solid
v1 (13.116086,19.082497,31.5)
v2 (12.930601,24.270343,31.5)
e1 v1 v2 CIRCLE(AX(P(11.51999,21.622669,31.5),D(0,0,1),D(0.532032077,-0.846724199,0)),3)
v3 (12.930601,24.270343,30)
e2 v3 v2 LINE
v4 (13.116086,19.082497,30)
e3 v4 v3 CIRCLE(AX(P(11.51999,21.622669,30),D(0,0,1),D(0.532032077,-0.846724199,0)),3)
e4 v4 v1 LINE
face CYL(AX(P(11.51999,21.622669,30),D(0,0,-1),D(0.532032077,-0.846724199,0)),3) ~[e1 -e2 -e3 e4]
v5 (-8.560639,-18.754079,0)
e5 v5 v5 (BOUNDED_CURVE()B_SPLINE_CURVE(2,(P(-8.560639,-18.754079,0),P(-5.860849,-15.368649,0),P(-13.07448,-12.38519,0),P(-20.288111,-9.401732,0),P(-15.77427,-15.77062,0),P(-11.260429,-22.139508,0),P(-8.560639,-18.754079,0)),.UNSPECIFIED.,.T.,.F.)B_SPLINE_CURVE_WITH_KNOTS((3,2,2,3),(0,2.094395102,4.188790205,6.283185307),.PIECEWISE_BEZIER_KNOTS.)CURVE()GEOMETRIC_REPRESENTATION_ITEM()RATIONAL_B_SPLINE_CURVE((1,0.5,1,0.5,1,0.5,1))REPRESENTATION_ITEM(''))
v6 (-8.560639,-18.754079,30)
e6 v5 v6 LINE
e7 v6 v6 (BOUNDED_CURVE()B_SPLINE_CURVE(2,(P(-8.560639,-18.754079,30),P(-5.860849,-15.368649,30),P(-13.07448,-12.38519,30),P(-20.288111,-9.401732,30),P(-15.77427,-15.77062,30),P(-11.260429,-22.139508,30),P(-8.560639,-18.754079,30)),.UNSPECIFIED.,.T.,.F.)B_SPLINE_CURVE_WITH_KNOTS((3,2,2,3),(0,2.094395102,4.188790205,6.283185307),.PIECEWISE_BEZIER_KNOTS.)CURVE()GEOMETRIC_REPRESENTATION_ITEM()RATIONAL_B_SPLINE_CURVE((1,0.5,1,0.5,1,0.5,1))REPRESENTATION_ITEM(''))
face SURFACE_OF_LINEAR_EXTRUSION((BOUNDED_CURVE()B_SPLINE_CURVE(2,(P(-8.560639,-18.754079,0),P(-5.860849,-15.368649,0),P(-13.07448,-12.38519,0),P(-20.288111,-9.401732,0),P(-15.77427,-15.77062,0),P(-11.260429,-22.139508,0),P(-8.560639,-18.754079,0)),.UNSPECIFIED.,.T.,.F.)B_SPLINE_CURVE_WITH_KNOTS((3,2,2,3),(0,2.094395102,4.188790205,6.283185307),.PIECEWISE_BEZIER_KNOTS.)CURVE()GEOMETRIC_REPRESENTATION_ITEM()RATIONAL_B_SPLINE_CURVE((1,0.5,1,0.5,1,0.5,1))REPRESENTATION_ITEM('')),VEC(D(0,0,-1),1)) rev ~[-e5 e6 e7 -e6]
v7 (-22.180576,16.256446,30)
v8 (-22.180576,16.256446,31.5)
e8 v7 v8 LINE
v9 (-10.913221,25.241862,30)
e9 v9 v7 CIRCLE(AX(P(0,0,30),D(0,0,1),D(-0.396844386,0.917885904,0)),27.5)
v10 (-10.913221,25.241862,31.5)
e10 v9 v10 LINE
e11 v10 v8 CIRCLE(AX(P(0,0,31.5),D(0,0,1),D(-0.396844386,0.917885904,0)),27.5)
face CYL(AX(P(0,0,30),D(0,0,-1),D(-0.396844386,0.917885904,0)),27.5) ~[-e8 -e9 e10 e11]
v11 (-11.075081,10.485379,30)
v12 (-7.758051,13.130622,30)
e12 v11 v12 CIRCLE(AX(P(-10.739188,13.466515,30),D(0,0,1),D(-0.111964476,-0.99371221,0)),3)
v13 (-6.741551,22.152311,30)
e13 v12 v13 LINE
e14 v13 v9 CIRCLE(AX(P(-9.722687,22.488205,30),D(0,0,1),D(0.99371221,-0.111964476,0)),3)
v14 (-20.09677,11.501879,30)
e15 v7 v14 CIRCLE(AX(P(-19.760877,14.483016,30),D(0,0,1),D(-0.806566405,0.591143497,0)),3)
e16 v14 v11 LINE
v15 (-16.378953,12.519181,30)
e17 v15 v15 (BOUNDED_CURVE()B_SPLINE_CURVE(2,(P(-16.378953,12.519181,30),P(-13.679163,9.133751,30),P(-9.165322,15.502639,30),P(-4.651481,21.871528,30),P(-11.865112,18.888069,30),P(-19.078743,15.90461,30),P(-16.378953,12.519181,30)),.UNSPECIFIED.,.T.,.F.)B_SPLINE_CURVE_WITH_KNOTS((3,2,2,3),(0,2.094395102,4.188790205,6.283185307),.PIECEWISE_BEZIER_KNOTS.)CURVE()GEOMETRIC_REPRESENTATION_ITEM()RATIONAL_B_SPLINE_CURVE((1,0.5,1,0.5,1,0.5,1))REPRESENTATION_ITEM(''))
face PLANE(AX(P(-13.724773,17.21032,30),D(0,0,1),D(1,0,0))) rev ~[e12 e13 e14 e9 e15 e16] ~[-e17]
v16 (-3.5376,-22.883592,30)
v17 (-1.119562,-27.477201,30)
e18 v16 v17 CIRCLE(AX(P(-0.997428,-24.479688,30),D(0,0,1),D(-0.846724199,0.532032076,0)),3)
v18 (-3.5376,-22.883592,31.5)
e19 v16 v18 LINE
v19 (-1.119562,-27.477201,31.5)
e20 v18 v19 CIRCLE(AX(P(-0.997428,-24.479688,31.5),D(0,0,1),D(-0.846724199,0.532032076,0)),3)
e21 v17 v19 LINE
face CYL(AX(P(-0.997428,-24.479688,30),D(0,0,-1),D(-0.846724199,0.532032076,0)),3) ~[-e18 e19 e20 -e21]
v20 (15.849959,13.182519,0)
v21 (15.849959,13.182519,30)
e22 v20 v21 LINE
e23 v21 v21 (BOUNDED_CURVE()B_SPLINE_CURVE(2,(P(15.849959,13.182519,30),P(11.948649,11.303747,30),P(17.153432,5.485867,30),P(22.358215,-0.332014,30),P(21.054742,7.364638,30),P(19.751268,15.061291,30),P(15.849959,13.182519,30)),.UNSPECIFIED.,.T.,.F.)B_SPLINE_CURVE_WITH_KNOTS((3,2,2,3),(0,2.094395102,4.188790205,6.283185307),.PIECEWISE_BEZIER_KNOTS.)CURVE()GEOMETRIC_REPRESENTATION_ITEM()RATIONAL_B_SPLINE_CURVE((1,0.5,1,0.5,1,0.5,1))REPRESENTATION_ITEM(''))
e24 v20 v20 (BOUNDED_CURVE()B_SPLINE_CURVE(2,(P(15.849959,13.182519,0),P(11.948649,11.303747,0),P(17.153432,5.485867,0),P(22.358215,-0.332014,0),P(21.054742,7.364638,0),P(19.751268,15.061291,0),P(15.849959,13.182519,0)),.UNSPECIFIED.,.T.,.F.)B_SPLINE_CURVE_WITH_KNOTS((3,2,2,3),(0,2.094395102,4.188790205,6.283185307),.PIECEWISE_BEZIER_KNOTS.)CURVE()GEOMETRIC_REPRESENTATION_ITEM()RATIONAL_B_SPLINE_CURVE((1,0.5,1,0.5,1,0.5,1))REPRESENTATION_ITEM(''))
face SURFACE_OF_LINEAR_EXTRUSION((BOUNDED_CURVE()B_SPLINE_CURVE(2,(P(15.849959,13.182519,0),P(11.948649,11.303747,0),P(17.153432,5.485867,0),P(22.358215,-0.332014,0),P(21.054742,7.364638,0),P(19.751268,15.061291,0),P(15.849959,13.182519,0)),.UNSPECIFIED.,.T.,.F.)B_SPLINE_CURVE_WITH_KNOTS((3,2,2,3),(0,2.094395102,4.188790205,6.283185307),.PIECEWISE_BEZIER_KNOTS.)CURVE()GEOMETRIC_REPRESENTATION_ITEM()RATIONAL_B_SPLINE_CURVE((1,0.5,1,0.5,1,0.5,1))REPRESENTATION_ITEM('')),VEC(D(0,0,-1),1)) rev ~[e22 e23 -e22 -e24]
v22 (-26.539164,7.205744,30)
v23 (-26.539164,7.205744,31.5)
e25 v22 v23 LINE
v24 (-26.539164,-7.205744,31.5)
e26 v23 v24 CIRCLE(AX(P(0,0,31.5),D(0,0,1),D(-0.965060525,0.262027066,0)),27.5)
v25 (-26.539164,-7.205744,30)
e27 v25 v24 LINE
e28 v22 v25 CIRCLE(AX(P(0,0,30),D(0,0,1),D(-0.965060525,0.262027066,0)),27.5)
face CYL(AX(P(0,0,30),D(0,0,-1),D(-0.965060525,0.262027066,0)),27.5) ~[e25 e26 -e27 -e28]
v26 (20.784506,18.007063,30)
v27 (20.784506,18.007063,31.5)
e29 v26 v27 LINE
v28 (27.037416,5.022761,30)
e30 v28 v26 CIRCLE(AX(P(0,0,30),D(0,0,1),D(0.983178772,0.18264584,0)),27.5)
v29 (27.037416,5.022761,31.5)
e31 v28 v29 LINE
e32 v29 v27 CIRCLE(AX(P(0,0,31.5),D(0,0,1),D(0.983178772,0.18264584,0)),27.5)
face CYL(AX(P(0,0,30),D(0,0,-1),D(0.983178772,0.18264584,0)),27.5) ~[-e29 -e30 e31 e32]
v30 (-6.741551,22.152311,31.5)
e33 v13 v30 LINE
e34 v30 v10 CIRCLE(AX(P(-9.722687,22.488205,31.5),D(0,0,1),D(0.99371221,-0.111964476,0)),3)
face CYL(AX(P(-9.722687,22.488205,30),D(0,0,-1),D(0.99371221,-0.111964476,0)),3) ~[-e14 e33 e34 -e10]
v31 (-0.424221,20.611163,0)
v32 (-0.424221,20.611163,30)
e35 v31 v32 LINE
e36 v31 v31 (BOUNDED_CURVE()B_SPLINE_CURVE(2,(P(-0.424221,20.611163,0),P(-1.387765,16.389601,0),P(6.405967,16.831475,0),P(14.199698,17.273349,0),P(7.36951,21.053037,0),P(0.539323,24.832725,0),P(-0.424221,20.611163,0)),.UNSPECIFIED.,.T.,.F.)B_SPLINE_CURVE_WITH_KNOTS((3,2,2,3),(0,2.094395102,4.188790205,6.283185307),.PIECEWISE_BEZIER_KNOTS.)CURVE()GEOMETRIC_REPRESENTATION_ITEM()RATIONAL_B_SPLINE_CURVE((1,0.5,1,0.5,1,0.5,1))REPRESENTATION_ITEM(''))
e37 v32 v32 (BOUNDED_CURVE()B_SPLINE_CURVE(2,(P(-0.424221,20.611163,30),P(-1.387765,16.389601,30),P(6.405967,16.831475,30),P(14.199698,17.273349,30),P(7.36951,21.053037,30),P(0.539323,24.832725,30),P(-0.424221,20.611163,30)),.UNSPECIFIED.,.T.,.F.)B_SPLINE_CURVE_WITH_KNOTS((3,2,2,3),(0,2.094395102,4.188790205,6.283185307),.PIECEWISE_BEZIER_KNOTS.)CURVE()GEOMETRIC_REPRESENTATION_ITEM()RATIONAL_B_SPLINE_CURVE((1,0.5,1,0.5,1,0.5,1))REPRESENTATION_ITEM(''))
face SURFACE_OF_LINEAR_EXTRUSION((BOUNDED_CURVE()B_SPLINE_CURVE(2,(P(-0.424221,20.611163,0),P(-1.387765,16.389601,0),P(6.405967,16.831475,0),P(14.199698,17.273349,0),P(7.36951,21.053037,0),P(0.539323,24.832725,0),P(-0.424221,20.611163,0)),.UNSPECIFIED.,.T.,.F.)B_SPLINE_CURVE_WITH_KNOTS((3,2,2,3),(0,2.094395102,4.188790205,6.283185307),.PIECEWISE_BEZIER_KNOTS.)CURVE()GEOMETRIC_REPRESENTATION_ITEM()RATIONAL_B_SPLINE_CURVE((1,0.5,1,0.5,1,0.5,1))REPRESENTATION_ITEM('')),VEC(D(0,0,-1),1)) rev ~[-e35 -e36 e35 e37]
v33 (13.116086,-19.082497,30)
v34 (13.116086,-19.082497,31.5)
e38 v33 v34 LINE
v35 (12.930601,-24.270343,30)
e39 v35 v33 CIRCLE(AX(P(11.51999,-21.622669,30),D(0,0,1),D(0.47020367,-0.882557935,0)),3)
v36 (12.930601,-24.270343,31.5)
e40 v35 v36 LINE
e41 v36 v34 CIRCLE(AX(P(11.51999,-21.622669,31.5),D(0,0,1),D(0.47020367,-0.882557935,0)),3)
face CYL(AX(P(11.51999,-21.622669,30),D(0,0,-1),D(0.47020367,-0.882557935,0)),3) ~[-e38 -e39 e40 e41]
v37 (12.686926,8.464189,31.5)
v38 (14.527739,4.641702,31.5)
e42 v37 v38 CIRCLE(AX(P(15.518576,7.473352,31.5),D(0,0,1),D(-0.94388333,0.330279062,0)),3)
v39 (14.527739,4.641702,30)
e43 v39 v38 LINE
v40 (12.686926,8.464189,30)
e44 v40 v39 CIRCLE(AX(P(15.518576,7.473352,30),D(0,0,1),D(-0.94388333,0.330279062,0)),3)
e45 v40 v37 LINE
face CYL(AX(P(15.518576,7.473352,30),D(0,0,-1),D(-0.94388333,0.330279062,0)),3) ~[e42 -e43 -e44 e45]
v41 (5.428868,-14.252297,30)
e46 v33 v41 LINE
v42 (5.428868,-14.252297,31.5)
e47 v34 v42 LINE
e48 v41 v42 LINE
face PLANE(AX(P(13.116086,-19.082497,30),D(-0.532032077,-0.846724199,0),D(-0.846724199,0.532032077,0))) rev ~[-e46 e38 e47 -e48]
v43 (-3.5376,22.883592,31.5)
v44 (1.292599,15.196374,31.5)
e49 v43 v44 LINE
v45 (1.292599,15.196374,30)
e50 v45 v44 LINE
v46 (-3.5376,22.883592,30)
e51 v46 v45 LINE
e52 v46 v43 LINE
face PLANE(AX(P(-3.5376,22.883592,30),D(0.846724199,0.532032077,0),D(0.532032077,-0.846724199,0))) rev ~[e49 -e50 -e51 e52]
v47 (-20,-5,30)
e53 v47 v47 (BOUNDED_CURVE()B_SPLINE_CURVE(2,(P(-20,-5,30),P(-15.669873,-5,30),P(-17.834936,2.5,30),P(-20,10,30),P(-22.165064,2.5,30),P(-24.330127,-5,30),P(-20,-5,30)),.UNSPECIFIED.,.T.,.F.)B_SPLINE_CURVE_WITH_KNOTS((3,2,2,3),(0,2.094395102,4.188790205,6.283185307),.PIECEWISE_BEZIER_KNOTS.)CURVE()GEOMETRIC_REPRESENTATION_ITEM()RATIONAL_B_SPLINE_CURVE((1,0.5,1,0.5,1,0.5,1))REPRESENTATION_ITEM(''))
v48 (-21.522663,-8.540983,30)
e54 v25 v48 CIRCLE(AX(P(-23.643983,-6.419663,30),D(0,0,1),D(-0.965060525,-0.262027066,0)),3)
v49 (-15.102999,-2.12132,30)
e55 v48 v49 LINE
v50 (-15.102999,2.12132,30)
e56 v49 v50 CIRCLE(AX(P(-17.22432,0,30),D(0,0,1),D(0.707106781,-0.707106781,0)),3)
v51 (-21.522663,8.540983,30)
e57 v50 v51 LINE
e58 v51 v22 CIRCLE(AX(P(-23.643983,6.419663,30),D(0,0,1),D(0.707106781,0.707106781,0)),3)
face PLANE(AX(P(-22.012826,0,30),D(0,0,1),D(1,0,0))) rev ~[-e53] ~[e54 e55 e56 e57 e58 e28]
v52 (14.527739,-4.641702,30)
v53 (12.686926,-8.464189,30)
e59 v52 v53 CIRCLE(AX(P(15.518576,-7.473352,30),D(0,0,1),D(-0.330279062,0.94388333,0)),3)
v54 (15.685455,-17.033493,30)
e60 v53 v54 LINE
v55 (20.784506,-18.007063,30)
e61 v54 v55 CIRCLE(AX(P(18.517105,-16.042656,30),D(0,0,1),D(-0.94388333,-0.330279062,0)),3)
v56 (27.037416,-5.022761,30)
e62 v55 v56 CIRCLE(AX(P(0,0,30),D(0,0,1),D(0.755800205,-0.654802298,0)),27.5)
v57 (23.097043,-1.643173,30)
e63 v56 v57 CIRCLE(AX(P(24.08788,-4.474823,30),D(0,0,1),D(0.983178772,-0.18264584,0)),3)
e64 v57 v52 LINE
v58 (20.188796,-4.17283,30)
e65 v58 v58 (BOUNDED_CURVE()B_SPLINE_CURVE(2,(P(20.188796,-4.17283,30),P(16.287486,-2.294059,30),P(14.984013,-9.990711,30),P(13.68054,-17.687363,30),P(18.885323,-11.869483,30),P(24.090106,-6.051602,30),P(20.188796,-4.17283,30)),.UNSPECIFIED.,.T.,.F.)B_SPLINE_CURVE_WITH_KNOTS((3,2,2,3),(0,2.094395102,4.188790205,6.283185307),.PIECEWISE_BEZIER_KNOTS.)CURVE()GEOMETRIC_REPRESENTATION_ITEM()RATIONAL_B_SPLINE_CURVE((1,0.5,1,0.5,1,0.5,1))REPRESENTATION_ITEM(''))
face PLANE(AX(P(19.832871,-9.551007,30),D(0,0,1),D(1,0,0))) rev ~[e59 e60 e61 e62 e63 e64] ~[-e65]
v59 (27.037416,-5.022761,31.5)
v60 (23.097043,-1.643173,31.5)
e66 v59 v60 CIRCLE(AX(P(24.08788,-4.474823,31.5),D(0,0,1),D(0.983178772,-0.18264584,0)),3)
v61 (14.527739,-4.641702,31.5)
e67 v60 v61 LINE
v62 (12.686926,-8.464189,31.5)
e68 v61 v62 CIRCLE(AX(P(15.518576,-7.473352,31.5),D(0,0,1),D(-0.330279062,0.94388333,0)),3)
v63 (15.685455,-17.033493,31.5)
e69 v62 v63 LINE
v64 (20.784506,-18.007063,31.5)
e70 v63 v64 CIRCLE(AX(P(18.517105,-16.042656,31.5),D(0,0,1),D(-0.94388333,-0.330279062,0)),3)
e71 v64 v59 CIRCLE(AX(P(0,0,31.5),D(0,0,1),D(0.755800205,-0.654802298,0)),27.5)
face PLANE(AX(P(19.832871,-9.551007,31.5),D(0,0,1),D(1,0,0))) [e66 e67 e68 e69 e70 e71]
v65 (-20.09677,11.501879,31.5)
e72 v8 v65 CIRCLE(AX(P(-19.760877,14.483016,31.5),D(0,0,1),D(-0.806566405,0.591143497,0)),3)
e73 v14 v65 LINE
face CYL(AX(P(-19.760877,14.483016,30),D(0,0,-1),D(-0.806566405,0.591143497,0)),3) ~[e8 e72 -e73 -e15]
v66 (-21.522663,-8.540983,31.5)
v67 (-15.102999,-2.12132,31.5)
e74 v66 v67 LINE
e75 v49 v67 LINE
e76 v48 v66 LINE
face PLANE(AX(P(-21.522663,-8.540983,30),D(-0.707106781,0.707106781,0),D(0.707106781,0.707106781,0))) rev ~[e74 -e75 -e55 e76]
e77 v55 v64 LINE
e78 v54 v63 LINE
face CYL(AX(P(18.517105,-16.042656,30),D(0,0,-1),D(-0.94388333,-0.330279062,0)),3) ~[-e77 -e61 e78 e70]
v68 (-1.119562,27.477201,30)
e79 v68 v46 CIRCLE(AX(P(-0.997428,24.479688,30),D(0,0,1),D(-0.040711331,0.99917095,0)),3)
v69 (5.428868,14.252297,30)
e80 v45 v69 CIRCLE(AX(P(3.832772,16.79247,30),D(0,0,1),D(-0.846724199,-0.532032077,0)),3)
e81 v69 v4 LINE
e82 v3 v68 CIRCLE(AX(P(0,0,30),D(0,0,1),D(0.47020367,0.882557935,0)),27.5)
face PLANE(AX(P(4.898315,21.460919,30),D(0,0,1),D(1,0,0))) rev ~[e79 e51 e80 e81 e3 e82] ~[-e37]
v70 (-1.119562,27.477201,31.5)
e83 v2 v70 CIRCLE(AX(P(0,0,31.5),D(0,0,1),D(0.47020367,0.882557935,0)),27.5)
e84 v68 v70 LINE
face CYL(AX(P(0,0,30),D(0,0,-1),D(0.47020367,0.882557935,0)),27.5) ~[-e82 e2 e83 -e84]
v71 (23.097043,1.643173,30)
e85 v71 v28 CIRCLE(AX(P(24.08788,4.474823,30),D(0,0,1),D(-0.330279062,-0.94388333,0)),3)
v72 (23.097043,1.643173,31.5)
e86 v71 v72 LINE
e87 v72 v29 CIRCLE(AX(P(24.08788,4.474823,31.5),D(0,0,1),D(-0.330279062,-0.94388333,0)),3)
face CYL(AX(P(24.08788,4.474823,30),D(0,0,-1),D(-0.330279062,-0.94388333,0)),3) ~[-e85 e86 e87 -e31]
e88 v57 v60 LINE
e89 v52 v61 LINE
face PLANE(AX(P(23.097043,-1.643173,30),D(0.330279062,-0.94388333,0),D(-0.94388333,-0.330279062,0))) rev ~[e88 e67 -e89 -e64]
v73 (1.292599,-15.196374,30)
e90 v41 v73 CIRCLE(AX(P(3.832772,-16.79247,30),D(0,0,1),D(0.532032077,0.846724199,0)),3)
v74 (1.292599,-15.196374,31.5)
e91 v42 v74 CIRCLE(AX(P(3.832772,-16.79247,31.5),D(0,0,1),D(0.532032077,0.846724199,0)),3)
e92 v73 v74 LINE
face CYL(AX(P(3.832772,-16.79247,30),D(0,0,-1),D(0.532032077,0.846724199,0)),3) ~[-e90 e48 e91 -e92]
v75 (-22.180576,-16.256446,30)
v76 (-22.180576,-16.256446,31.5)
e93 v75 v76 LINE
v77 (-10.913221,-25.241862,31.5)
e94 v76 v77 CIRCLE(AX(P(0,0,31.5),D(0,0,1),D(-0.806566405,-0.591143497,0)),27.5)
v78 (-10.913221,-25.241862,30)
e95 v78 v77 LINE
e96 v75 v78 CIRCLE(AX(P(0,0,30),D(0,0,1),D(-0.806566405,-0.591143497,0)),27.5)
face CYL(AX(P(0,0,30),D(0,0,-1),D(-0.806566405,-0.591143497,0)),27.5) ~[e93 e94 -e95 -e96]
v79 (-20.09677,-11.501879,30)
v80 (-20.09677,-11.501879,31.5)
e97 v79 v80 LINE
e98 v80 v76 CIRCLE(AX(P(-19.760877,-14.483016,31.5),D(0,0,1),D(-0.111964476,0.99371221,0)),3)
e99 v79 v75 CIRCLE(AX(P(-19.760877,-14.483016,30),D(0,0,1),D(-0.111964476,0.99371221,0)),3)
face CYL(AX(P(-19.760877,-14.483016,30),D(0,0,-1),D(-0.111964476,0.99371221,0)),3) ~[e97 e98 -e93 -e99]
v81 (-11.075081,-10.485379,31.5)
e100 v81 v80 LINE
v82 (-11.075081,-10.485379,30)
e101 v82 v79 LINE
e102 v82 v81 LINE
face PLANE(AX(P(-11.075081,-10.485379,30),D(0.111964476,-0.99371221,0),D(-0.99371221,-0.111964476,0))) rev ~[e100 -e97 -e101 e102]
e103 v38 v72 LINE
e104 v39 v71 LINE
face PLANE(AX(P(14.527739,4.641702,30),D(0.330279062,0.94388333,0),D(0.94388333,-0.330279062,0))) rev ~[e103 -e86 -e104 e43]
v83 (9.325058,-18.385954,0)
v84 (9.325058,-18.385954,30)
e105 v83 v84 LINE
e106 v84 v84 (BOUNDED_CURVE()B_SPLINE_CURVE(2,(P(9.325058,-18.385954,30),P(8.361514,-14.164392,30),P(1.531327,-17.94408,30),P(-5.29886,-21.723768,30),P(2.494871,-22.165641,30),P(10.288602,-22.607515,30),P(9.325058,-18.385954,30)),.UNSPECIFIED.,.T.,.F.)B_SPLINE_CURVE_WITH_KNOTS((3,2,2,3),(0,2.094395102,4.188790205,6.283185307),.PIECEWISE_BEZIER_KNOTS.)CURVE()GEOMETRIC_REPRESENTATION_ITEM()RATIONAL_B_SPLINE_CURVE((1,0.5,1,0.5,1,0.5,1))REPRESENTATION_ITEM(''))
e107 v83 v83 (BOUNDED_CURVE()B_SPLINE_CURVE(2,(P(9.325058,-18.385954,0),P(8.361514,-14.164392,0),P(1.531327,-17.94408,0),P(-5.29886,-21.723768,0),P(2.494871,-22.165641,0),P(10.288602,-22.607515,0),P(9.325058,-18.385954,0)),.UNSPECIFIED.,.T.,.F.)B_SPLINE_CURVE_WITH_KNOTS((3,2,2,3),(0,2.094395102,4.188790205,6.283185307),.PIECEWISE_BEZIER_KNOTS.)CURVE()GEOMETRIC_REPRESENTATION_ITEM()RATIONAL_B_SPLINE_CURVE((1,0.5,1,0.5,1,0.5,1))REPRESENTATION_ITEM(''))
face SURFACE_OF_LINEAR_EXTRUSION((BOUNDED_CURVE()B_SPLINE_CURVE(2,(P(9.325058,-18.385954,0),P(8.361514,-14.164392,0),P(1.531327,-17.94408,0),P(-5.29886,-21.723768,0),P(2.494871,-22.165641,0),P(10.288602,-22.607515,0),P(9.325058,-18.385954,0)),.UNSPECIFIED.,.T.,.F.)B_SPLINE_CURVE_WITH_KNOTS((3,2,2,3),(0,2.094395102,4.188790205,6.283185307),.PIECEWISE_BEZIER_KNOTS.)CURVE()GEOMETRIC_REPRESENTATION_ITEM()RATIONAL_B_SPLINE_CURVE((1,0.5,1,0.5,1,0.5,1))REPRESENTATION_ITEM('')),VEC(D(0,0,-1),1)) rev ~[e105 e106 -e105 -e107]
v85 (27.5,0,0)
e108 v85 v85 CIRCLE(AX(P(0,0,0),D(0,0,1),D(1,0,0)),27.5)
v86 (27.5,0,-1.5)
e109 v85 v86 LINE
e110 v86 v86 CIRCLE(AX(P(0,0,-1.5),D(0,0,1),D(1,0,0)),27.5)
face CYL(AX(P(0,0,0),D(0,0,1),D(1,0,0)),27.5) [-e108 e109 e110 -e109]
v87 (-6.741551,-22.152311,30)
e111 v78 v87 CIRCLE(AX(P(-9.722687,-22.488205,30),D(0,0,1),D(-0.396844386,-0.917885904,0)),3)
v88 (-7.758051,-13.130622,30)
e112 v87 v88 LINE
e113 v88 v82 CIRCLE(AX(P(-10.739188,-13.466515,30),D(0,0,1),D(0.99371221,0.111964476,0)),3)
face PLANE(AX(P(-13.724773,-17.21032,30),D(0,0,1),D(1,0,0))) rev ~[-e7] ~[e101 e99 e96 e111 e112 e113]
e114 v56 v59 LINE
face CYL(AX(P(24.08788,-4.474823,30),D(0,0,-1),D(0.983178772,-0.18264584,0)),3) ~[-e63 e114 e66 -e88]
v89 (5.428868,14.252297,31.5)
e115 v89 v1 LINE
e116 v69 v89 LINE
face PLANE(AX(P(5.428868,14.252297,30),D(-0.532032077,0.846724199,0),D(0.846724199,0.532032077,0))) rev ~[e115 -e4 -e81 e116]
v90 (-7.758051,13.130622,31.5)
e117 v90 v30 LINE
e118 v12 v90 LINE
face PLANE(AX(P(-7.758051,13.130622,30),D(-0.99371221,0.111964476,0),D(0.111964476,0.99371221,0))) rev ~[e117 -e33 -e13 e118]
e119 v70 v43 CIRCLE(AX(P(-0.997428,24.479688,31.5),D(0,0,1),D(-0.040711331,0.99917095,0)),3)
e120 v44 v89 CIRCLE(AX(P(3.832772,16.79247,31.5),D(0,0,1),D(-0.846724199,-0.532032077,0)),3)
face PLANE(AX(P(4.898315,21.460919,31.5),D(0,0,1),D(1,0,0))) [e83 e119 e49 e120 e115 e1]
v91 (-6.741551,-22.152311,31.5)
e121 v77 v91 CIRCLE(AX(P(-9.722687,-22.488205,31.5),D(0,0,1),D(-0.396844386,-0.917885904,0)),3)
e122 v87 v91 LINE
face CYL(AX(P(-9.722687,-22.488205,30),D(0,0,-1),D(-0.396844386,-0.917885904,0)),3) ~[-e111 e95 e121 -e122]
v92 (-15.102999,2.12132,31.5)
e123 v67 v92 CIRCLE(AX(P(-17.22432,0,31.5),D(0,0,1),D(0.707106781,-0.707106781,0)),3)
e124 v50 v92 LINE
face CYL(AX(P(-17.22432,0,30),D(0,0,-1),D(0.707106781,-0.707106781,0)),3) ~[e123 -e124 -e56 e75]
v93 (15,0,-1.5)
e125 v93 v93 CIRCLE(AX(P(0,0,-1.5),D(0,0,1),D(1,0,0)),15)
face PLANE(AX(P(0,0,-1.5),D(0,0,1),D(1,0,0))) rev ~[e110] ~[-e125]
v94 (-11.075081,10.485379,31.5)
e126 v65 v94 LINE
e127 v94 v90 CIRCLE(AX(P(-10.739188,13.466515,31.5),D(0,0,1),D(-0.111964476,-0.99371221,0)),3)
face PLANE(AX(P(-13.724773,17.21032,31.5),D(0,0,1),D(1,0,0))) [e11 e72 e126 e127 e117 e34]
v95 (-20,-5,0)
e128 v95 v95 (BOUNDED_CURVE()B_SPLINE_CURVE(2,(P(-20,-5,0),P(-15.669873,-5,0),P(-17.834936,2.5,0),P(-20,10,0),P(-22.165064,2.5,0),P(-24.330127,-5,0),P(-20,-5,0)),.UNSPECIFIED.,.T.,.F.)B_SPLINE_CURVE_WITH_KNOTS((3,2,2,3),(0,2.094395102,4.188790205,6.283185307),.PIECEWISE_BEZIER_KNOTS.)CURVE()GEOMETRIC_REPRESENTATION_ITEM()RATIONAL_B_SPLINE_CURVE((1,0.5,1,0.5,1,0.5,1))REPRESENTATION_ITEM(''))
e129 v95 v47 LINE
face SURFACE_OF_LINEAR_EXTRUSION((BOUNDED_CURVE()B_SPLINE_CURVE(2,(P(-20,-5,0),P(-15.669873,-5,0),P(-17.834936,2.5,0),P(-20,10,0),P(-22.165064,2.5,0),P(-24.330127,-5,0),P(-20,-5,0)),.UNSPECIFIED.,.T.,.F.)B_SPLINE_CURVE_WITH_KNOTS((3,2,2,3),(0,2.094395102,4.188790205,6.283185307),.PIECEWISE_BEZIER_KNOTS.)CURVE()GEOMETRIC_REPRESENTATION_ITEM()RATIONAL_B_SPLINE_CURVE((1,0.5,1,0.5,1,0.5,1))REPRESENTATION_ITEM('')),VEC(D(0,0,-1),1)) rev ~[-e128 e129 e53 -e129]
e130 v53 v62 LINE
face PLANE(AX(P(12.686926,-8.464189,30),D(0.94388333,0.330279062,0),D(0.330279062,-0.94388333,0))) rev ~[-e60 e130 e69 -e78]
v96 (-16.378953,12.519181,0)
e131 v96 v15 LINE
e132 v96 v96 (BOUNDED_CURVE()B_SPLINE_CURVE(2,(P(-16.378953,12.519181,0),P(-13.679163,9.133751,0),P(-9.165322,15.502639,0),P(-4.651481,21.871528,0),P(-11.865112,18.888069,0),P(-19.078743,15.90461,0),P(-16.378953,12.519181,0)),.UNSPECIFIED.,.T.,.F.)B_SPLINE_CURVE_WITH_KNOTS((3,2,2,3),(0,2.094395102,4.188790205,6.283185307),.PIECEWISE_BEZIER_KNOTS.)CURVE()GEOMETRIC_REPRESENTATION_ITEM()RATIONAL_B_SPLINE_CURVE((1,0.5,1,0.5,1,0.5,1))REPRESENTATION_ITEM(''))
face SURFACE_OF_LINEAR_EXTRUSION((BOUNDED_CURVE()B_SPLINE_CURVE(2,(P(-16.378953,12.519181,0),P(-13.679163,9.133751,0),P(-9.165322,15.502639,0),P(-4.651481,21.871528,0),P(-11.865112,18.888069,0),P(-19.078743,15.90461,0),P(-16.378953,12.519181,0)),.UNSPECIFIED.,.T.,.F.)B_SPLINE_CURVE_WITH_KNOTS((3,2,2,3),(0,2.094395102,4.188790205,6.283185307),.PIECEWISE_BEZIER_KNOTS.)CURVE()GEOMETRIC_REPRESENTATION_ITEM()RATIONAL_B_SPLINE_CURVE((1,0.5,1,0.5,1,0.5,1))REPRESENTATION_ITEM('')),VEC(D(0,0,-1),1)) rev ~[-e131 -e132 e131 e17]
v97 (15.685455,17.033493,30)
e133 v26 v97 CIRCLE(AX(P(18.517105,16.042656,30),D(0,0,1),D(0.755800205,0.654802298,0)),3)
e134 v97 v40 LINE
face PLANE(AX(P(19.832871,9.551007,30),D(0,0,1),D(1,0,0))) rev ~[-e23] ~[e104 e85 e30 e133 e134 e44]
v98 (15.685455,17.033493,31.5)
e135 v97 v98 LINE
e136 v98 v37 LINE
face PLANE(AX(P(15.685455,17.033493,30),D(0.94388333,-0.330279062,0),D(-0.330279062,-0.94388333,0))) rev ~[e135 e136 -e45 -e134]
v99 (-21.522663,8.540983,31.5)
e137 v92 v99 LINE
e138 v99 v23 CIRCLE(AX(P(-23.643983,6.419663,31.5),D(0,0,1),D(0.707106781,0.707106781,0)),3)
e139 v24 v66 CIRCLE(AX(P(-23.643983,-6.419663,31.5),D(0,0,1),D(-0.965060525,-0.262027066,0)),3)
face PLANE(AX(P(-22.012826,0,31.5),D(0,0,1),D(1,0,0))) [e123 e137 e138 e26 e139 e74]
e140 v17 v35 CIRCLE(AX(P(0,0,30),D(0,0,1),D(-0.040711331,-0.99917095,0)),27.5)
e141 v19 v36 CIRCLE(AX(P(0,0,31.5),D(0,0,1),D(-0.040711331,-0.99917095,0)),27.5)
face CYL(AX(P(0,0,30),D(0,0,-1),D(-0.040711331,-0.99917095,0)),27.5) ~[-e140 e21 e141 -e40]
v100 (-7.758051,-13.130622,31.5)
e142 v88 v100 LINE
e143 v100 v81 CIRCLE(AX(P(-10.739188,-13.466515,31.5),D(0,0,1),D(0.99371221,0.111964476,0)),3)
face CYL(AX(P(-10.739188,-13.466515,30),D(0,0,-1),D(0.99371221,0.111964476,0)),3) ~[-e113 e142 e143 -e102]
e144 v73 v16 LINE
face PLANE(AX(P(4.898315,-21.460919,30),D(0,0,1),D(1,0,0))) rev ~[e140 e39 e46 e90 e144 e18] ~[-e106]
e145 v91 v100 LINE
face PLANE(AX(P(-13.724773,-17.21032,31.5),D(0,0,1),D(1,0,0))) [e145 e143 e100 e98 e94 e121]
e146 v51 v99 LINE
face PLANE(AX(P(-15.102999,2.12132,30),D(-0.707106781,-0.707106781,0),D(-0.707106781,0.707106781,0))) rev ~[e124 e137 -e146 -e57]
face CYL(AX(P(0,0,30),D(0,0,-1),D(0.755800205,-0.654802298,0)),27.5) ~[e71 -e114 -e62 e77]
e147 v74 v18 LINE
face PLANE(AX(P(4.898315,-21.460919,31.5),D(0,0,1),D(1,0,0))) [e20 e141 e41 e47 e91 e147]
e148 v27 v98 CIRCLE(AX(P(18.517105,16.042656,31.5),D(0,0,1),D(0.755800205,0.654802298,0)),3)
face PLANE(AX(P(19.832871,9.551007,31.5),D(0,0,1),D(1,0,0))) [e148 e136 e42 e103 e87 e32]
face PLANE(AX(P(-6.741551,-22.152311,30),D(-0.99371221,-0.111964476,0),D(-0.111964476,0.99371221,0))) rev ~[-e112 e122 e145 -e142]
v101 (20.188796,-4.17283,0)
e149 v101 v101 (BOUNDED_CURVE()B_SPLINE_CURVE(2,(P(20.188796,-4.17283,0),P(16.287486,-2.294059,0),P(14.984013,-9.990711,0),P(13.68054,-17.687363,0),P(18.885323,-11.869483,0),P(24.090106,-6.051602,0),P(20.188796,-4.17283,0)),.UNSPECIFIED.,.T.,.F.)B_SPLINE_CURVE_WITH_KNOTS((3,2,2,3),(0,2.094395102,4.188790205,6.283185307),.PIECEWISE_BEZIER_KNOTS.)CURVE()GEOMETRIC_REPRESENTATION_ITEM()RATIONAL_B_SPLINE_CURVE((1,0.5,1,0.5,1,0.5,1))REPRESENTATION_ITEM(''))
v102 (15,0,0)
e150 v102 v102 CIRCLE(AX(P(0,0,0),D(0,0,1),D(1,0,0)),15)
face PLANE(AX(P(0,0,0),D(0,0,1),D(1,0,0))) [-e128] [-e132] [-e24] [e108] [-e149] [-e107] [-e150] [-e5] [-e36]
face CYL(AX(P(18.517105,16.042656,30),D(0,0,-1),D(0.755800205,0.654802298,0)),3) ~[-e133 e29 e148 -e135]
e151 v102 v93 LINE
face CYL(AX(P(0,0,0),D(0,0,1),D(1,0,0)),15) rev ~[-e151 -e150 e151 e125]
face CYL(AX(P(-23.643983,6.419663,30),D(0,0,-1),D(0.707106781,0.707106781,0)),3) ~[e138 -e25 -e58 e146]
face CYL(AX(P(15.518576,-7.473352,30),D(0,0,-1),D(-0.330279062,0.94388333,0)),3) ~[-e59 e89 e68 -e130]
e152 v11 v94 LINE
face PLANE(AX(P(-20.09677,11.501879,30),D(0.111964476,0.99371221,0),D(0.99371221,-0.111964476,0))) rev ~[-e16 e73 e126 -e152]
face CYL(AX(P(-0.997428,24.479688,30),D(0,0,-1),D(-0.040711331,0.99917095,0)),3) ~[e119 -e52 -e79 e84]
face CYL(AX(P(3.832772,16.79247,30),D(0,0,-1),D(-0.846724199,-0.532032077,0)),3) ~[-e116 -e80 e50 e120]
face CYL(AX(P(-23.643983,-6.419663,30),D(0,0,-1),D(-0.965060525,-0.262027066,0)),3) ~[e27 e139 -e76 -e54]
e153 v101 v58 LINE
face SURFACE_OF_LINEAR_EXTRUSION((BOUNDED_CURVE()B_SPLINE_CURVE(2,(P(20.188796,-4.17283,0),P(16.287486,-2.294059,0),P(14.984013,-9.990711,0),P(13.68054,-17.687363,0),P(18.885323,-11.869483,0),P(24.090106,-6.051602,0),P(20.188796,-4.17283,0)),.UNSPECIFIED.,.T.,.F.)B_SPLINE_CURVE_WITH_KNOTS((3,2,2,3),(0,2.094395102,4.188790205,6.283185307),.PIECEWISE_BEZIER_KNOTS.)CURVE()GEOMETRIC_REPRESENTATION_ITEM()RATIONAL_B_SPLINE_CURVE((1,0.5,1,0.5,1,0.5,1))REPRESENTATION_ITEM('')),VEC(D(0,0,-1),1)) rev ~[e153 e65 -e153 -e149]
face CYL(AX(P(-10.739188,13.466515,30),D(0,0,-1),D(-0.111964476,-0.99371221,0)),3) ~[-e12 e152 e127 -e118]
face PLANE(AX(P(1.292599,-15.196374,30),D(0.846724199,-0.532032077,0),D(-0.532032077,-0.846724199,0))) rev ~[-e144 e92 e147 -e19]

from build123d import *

# Parameters (mm, degrees)
F0_R     = 27.5
F1_DEPTH = 1.5
F2_R     = 15
F3_DEPTH = 1.5
F5_DEPTH = 30
F7_DEPTH = 1.5


with BuildPart() as f1:
    # F0 (on Top) → F1 (new body)
    with BuildSketch(Plane.XY):
        Circle(F0_R)
    extrude(amount=-F1_DEPTH)

    # F2 (on face) → F3 (cut, through all)
    with BuildSketch(Plane.XY):
        Circle(F2_R)
    extrude(amount=-F3_DEPTH, mode=Mode.SUBTRACT)

    # F4 (on face) → F5 (join)
    with BuildSketch(Plane.XY):
        with BuildLine():
            add(Edge.make_bspline(
                [(-8.5606386248, -18.7540786587), (-5.8608485878, -15.3686490322), (-13.0744797248, -12.3851903315), (-20.2881108619, -9.4017316308), (-15.7742697619, -15.770619958), (-11.2604286619, -22.1395082851), (-8.5606386248, -18.7540786587)],
                knots=[0, 0, 0, 2.0943951024, 2.0943951024, 4.1887902048, 4.1887902048, 6.2831853072, 6.2831853072, 6.2831853072], degree=2, weights=[1, 0.5, 1, 0.5, 1, 0.5, 1]))
        make_face()
        with BuildLine():
            add(Edge.make_bspline(
                [(9.32505824, -18.3859535739), (8.3615143316, -14.1643918798), (1.5313269445, -17.9440797315), (-5.2988604427, -21.7237675832), (2.4948708529, -22.1656414255), (10.2886021484, -22.6075152679), (9.32505824, -18.3859535739)],
                knots=[0, 0, 0, 2.0943951024, 2.0943951024, 4.1887902048, 4.1887902048, 6.2831853072, 6.2831853072, 6.2831853072], degree=2, weights=[1, 0.5, 1, 0.5, 1, 0.5, 1]))
        make_face()
        with BuildLine():
            add(Edge.make_bspline(
                [(20.1887960536, -4.1728304428), (16.2874864155, -2.294058741), (14.9840131912, -9.9907111012), (13.6805399669, -17.6873634614), (18.8853228293, -11.869482803), (24.0901056917, -6.0516021447), (20.1887960536, -4.1728304428)],
                knots=[0, 0, 0, 2.0943951024, 2.0943951024, 4.1887902048, 4.1887902048, 6.2831853072, 6.2831853072, 6.2831853072], degree=2, weights=[1, 0.5, 1, 0.5, 1, 0.5, 1]))
        make_face()
        with BuildLine():
            add(Edge.make_bspline(
                [(15.8499586625, 13.1825191219), (11.9486490243, 11.30374742), (17.1534318868, 5.4858667617), (22.3582147492, -0.3320138967), (21.0547415249, 7.3646384635), (19.7512683006, 15.0612908237), (15.8499586625, 13.1825191219)],
                knots=[0, 0, 0, 2.0943951024, 2.0943951024, 4.1887902048, 4.1887902048, 6.2831853072, 6.2831853072, 6.2831853072], degree=2, weights=[1, 0.5, 1, 0.5, 1, 0.5, 1]))
        make_face()
        with BuildLine():
            add(Edge.make_bspline(
                [(-0.4242208818, 20.6111629134), (-1.3877647902, 16.3896012194), (6.4059665054, 16.8314750617), (14.1996978009, 17.2733489041), (7.3695104138, 21.0530367558), (0.5393230266, 24.8327246075), (-0.4242208818, 20.6111629134)],
                knots=[0, 0, 0, 2.0943951024, 2.0943951024, 4.1887902048, 4.1887902048, 6.2831853072, 6.2831853072, 6.2831853072], degree=2, weights=[1, 0.5, 1, 0.5, 1, 0.5, 1]))
        make_face()
        with BuildLine():
            add(Edge.make_bspline(
                [(-16.3789534495, 12.5191806401), (-13.6791634125, 9.1337510136), (-9.1653223125, 15.5026393408), (-4.6514812125, 21.8715276679), (-11.8651123495, 18.8880689672), (-19.0787434866, 15.9046102665), (-16.3789534495, 12.5191806401)],
                knots=[0, 0, 0, 2.0943951024, 2.0943951024, 4.1887902048, 4.1887902048, 6.2831853072, 6.2831853072, 6.2831853072], degree=2, weights=[1, 0.5, 1, 0.5, 1, 0.5, 1]))
        make_face()
        with BuildLine():
            add(Edge.make_bspline(
                [(-20, -5), (-15.6698729811, -5), (-17.8349364905, 2.5), (-20, 10), (-22.1650635095, 2.5), (-24.3301270189, -5), (-20, -5)],
                knots=[0, 0, 0, 2.0943951024, 2.0943951024, 4.1887902048, 4.1887902048, 6.2831853072, 6.2831853072, 6.2831853072], degree=2, weights=[1, 0.5, 1, 0.5, 1, 0.5, 1]))
        make_face()
    extrude(amount=F5_DEPTH)

    # F6 (on face) → F7 (join)
    with BuildSketch(Plane.XY.offset(30)):
        with BuildLine():
            ThreePointArc((-15.1029993872, -2.1213203436), (-14.2243197308, 0), (-15.1029993872, 2.1213203436))
            Line((-15.1029993872, 2.1213203436), (-21.5226625135, 8.5409834698))
            ThreePointArc((-21.5226625135, 8.5409834698), (-24.4156247392, 9.3187265622), (-26.5391644314, 7.2057443254))
            ThreePointArc((-26.5391644314, 7.2057443254), (-27.5, 0), (-26.5391644314, -7.2057443254))
            ThreePointArc((-26.5391644314, -7.2057443254), (-24.4156247392, -9.3187265622), (-21.5226625135, -8.5409834698))
            Line((-21.5226625135, -8.5409834698), (-15.1029993872, -2.1213203436))
        make_face()
        with BuildLine():
            ThreePointArc((-7.7580510664, -13.1306220013), (-8.8687182905, -11.1210209822), (-11.0750811244, -10.4853787999))
            Line((-11.0750811244, -10.4853787999), (-20.096770354, -11.5018790483))
            ThreePointArc((-20.096770354, -11.5018790483), (-22.5085668338, -13.2787731074), (-22.1805761411, -16.2564461692))
            ThreePointArc((-22.1805761411, -16.2564461692), (-17.1459695511, -21.5003657679), (-10.9132206046, -25.2418623726))
            ThreePointArc((-10.9132206046, -25.2418623726), (-7.9372192281, -24.8990350631), (-6.7415508181, -22.1523112309))
            Line((-6.7415508181, -22.1523112309), (-7.7580510664, -13.1306220013))
        make_face()
        with BuildLine():
            ThreePointArc((5.4288679428, -14.2522974762), (3.1652089114, -13.8676863373), (1.2925991156, -15.1963738443))
            Line((1.2925991156, -15.1963738443), (-3.5376002185, -22.8835920475))
            ThreePointArc((-3.5376002185, -22.8835920475), (-3.6520990114, -25.8770857895), (-1.1195616152, -27.4772011273))
            ThreePointArc((-1.1195616152, -27.4772011273), (6.1193256838, -26.810517585), (12.9306009266, -24.270343213))
            ThreePointArc((12.9306009266, -24.270343213), (14.5180742516, -21.7298623137), (13.116086146, -19.0824968103))
            Line((13.116086146, -19.0824968103), (5.4288679428, -14.2522974762))
        make_face()
        with BuildLine():
            ThreePointArc((14.5277386624, -4.6417022576), (12.8156692445, -6.1717010312), (12.6869258573, -8.4641894344))
            Line((12.6869258573, -8.4641894344), (15.6854550354, -17.0334934947))
            ThreePointArc((15.6854550354, -17.0334934947), (17.9544738558, -18.9894250758), (20.7845056418, -18.0070632038))
            ThreePointArc((20.7845056418, -18.0070632038), (24.7766438673, -11.9318028257), (27.0374162239, -5.0227605893))
            ThreePointArc((27.0374162239, -5.0227605893), (26.0409617051, -2.1976600337), (23.0970427227, -1.6431730795))
            Line((23.0970427227, -1.6431730795), (14.5277386624, -4.6417022576))
        make_face()
        with BuildLine():
            ThreePointArc((12.6869258573, 8.4641894344), (12.8156692445, 6.1717010312), (14.5277386624, 4.6417022576))
            Line((14.5277386624, 4.6417022576), (23.0970427227, 1.6431730795))
            ThreePointArc((23.0970427227, 1.6431730795), (26.0409617051, 2.1976600337), (27.0374162239, 5.0227605893))
            ThreePointArc((27.0374162239, 5.0227605893), (24.7766438673, 11.9318028257), (20.7845056418, 18.0070632038))
            ThreePointArc((20.7845056418, 18.0070632038), (17.9544738558, 18.9894250758), (15.6854550354, 17.0334934947))
            Line((15.6854550354, 17.0334934947), (12.6869258573, 8.4641894344))
        make_face()
        with BuildLine():
            ThreePointArc((1.2925991156, 15.1963738443), (3.1652089114, 13.8676863373), (5.4288679428, 14.2522974762))
            Line((5.4288679428, 14.2522974762), (13.116086146, 19.0824968103))
            ThreePointArc((13.116086146, 19.0824968103), (14.5180742516, 21.7298623137), (12.9306009266, 24.270343213))
            ThreePointArc((12.9306009266, 24.270343213), (6.1193256838, 26.810517585), (-1.1195616152, 27.4772011273))
            ThreePointArc((-1.1195616152, 27.4772011273), (-3.6520990114, 25.8770857895), (-3.5376002185, 22.8835920475))
            Line((-3.5376002185, 22.8835920475), (1.2925991156, 15.1963738443))
        make_face()
        with BuildLine():
            ThreePointArc((-11.0750811244, 10.4853787999), (-8.8687182905, 11.1210209822), (-7.7580510664, 13.1306220013))
            Line((-7.7580510664, 13.1306220013), (-6.7415508181, 22.1523112309))
            ThreePointArc((-6.7415508181, 22.1523112309), (-7.9372192281, 24.8990350631), (-10.9132206046, 25.2418623726))
            ThreePointArc((-10.9132206046, 25.2418623726), (-17.1459695511, 21.5003657679), (-22.1805761411, 16.2564461692))
            ThreePointArc((-22.1805761411, 16.2564461692), (-22.5085668338, 13.2787731074), (-20.096770354, 11.5018790483))
            Line((-20.096770354, 11.5018790483), (-11.0750811244, 10.4853787999))
        make_face()
    extrude(amount=F7_DEPTH)


solid = f1.part
